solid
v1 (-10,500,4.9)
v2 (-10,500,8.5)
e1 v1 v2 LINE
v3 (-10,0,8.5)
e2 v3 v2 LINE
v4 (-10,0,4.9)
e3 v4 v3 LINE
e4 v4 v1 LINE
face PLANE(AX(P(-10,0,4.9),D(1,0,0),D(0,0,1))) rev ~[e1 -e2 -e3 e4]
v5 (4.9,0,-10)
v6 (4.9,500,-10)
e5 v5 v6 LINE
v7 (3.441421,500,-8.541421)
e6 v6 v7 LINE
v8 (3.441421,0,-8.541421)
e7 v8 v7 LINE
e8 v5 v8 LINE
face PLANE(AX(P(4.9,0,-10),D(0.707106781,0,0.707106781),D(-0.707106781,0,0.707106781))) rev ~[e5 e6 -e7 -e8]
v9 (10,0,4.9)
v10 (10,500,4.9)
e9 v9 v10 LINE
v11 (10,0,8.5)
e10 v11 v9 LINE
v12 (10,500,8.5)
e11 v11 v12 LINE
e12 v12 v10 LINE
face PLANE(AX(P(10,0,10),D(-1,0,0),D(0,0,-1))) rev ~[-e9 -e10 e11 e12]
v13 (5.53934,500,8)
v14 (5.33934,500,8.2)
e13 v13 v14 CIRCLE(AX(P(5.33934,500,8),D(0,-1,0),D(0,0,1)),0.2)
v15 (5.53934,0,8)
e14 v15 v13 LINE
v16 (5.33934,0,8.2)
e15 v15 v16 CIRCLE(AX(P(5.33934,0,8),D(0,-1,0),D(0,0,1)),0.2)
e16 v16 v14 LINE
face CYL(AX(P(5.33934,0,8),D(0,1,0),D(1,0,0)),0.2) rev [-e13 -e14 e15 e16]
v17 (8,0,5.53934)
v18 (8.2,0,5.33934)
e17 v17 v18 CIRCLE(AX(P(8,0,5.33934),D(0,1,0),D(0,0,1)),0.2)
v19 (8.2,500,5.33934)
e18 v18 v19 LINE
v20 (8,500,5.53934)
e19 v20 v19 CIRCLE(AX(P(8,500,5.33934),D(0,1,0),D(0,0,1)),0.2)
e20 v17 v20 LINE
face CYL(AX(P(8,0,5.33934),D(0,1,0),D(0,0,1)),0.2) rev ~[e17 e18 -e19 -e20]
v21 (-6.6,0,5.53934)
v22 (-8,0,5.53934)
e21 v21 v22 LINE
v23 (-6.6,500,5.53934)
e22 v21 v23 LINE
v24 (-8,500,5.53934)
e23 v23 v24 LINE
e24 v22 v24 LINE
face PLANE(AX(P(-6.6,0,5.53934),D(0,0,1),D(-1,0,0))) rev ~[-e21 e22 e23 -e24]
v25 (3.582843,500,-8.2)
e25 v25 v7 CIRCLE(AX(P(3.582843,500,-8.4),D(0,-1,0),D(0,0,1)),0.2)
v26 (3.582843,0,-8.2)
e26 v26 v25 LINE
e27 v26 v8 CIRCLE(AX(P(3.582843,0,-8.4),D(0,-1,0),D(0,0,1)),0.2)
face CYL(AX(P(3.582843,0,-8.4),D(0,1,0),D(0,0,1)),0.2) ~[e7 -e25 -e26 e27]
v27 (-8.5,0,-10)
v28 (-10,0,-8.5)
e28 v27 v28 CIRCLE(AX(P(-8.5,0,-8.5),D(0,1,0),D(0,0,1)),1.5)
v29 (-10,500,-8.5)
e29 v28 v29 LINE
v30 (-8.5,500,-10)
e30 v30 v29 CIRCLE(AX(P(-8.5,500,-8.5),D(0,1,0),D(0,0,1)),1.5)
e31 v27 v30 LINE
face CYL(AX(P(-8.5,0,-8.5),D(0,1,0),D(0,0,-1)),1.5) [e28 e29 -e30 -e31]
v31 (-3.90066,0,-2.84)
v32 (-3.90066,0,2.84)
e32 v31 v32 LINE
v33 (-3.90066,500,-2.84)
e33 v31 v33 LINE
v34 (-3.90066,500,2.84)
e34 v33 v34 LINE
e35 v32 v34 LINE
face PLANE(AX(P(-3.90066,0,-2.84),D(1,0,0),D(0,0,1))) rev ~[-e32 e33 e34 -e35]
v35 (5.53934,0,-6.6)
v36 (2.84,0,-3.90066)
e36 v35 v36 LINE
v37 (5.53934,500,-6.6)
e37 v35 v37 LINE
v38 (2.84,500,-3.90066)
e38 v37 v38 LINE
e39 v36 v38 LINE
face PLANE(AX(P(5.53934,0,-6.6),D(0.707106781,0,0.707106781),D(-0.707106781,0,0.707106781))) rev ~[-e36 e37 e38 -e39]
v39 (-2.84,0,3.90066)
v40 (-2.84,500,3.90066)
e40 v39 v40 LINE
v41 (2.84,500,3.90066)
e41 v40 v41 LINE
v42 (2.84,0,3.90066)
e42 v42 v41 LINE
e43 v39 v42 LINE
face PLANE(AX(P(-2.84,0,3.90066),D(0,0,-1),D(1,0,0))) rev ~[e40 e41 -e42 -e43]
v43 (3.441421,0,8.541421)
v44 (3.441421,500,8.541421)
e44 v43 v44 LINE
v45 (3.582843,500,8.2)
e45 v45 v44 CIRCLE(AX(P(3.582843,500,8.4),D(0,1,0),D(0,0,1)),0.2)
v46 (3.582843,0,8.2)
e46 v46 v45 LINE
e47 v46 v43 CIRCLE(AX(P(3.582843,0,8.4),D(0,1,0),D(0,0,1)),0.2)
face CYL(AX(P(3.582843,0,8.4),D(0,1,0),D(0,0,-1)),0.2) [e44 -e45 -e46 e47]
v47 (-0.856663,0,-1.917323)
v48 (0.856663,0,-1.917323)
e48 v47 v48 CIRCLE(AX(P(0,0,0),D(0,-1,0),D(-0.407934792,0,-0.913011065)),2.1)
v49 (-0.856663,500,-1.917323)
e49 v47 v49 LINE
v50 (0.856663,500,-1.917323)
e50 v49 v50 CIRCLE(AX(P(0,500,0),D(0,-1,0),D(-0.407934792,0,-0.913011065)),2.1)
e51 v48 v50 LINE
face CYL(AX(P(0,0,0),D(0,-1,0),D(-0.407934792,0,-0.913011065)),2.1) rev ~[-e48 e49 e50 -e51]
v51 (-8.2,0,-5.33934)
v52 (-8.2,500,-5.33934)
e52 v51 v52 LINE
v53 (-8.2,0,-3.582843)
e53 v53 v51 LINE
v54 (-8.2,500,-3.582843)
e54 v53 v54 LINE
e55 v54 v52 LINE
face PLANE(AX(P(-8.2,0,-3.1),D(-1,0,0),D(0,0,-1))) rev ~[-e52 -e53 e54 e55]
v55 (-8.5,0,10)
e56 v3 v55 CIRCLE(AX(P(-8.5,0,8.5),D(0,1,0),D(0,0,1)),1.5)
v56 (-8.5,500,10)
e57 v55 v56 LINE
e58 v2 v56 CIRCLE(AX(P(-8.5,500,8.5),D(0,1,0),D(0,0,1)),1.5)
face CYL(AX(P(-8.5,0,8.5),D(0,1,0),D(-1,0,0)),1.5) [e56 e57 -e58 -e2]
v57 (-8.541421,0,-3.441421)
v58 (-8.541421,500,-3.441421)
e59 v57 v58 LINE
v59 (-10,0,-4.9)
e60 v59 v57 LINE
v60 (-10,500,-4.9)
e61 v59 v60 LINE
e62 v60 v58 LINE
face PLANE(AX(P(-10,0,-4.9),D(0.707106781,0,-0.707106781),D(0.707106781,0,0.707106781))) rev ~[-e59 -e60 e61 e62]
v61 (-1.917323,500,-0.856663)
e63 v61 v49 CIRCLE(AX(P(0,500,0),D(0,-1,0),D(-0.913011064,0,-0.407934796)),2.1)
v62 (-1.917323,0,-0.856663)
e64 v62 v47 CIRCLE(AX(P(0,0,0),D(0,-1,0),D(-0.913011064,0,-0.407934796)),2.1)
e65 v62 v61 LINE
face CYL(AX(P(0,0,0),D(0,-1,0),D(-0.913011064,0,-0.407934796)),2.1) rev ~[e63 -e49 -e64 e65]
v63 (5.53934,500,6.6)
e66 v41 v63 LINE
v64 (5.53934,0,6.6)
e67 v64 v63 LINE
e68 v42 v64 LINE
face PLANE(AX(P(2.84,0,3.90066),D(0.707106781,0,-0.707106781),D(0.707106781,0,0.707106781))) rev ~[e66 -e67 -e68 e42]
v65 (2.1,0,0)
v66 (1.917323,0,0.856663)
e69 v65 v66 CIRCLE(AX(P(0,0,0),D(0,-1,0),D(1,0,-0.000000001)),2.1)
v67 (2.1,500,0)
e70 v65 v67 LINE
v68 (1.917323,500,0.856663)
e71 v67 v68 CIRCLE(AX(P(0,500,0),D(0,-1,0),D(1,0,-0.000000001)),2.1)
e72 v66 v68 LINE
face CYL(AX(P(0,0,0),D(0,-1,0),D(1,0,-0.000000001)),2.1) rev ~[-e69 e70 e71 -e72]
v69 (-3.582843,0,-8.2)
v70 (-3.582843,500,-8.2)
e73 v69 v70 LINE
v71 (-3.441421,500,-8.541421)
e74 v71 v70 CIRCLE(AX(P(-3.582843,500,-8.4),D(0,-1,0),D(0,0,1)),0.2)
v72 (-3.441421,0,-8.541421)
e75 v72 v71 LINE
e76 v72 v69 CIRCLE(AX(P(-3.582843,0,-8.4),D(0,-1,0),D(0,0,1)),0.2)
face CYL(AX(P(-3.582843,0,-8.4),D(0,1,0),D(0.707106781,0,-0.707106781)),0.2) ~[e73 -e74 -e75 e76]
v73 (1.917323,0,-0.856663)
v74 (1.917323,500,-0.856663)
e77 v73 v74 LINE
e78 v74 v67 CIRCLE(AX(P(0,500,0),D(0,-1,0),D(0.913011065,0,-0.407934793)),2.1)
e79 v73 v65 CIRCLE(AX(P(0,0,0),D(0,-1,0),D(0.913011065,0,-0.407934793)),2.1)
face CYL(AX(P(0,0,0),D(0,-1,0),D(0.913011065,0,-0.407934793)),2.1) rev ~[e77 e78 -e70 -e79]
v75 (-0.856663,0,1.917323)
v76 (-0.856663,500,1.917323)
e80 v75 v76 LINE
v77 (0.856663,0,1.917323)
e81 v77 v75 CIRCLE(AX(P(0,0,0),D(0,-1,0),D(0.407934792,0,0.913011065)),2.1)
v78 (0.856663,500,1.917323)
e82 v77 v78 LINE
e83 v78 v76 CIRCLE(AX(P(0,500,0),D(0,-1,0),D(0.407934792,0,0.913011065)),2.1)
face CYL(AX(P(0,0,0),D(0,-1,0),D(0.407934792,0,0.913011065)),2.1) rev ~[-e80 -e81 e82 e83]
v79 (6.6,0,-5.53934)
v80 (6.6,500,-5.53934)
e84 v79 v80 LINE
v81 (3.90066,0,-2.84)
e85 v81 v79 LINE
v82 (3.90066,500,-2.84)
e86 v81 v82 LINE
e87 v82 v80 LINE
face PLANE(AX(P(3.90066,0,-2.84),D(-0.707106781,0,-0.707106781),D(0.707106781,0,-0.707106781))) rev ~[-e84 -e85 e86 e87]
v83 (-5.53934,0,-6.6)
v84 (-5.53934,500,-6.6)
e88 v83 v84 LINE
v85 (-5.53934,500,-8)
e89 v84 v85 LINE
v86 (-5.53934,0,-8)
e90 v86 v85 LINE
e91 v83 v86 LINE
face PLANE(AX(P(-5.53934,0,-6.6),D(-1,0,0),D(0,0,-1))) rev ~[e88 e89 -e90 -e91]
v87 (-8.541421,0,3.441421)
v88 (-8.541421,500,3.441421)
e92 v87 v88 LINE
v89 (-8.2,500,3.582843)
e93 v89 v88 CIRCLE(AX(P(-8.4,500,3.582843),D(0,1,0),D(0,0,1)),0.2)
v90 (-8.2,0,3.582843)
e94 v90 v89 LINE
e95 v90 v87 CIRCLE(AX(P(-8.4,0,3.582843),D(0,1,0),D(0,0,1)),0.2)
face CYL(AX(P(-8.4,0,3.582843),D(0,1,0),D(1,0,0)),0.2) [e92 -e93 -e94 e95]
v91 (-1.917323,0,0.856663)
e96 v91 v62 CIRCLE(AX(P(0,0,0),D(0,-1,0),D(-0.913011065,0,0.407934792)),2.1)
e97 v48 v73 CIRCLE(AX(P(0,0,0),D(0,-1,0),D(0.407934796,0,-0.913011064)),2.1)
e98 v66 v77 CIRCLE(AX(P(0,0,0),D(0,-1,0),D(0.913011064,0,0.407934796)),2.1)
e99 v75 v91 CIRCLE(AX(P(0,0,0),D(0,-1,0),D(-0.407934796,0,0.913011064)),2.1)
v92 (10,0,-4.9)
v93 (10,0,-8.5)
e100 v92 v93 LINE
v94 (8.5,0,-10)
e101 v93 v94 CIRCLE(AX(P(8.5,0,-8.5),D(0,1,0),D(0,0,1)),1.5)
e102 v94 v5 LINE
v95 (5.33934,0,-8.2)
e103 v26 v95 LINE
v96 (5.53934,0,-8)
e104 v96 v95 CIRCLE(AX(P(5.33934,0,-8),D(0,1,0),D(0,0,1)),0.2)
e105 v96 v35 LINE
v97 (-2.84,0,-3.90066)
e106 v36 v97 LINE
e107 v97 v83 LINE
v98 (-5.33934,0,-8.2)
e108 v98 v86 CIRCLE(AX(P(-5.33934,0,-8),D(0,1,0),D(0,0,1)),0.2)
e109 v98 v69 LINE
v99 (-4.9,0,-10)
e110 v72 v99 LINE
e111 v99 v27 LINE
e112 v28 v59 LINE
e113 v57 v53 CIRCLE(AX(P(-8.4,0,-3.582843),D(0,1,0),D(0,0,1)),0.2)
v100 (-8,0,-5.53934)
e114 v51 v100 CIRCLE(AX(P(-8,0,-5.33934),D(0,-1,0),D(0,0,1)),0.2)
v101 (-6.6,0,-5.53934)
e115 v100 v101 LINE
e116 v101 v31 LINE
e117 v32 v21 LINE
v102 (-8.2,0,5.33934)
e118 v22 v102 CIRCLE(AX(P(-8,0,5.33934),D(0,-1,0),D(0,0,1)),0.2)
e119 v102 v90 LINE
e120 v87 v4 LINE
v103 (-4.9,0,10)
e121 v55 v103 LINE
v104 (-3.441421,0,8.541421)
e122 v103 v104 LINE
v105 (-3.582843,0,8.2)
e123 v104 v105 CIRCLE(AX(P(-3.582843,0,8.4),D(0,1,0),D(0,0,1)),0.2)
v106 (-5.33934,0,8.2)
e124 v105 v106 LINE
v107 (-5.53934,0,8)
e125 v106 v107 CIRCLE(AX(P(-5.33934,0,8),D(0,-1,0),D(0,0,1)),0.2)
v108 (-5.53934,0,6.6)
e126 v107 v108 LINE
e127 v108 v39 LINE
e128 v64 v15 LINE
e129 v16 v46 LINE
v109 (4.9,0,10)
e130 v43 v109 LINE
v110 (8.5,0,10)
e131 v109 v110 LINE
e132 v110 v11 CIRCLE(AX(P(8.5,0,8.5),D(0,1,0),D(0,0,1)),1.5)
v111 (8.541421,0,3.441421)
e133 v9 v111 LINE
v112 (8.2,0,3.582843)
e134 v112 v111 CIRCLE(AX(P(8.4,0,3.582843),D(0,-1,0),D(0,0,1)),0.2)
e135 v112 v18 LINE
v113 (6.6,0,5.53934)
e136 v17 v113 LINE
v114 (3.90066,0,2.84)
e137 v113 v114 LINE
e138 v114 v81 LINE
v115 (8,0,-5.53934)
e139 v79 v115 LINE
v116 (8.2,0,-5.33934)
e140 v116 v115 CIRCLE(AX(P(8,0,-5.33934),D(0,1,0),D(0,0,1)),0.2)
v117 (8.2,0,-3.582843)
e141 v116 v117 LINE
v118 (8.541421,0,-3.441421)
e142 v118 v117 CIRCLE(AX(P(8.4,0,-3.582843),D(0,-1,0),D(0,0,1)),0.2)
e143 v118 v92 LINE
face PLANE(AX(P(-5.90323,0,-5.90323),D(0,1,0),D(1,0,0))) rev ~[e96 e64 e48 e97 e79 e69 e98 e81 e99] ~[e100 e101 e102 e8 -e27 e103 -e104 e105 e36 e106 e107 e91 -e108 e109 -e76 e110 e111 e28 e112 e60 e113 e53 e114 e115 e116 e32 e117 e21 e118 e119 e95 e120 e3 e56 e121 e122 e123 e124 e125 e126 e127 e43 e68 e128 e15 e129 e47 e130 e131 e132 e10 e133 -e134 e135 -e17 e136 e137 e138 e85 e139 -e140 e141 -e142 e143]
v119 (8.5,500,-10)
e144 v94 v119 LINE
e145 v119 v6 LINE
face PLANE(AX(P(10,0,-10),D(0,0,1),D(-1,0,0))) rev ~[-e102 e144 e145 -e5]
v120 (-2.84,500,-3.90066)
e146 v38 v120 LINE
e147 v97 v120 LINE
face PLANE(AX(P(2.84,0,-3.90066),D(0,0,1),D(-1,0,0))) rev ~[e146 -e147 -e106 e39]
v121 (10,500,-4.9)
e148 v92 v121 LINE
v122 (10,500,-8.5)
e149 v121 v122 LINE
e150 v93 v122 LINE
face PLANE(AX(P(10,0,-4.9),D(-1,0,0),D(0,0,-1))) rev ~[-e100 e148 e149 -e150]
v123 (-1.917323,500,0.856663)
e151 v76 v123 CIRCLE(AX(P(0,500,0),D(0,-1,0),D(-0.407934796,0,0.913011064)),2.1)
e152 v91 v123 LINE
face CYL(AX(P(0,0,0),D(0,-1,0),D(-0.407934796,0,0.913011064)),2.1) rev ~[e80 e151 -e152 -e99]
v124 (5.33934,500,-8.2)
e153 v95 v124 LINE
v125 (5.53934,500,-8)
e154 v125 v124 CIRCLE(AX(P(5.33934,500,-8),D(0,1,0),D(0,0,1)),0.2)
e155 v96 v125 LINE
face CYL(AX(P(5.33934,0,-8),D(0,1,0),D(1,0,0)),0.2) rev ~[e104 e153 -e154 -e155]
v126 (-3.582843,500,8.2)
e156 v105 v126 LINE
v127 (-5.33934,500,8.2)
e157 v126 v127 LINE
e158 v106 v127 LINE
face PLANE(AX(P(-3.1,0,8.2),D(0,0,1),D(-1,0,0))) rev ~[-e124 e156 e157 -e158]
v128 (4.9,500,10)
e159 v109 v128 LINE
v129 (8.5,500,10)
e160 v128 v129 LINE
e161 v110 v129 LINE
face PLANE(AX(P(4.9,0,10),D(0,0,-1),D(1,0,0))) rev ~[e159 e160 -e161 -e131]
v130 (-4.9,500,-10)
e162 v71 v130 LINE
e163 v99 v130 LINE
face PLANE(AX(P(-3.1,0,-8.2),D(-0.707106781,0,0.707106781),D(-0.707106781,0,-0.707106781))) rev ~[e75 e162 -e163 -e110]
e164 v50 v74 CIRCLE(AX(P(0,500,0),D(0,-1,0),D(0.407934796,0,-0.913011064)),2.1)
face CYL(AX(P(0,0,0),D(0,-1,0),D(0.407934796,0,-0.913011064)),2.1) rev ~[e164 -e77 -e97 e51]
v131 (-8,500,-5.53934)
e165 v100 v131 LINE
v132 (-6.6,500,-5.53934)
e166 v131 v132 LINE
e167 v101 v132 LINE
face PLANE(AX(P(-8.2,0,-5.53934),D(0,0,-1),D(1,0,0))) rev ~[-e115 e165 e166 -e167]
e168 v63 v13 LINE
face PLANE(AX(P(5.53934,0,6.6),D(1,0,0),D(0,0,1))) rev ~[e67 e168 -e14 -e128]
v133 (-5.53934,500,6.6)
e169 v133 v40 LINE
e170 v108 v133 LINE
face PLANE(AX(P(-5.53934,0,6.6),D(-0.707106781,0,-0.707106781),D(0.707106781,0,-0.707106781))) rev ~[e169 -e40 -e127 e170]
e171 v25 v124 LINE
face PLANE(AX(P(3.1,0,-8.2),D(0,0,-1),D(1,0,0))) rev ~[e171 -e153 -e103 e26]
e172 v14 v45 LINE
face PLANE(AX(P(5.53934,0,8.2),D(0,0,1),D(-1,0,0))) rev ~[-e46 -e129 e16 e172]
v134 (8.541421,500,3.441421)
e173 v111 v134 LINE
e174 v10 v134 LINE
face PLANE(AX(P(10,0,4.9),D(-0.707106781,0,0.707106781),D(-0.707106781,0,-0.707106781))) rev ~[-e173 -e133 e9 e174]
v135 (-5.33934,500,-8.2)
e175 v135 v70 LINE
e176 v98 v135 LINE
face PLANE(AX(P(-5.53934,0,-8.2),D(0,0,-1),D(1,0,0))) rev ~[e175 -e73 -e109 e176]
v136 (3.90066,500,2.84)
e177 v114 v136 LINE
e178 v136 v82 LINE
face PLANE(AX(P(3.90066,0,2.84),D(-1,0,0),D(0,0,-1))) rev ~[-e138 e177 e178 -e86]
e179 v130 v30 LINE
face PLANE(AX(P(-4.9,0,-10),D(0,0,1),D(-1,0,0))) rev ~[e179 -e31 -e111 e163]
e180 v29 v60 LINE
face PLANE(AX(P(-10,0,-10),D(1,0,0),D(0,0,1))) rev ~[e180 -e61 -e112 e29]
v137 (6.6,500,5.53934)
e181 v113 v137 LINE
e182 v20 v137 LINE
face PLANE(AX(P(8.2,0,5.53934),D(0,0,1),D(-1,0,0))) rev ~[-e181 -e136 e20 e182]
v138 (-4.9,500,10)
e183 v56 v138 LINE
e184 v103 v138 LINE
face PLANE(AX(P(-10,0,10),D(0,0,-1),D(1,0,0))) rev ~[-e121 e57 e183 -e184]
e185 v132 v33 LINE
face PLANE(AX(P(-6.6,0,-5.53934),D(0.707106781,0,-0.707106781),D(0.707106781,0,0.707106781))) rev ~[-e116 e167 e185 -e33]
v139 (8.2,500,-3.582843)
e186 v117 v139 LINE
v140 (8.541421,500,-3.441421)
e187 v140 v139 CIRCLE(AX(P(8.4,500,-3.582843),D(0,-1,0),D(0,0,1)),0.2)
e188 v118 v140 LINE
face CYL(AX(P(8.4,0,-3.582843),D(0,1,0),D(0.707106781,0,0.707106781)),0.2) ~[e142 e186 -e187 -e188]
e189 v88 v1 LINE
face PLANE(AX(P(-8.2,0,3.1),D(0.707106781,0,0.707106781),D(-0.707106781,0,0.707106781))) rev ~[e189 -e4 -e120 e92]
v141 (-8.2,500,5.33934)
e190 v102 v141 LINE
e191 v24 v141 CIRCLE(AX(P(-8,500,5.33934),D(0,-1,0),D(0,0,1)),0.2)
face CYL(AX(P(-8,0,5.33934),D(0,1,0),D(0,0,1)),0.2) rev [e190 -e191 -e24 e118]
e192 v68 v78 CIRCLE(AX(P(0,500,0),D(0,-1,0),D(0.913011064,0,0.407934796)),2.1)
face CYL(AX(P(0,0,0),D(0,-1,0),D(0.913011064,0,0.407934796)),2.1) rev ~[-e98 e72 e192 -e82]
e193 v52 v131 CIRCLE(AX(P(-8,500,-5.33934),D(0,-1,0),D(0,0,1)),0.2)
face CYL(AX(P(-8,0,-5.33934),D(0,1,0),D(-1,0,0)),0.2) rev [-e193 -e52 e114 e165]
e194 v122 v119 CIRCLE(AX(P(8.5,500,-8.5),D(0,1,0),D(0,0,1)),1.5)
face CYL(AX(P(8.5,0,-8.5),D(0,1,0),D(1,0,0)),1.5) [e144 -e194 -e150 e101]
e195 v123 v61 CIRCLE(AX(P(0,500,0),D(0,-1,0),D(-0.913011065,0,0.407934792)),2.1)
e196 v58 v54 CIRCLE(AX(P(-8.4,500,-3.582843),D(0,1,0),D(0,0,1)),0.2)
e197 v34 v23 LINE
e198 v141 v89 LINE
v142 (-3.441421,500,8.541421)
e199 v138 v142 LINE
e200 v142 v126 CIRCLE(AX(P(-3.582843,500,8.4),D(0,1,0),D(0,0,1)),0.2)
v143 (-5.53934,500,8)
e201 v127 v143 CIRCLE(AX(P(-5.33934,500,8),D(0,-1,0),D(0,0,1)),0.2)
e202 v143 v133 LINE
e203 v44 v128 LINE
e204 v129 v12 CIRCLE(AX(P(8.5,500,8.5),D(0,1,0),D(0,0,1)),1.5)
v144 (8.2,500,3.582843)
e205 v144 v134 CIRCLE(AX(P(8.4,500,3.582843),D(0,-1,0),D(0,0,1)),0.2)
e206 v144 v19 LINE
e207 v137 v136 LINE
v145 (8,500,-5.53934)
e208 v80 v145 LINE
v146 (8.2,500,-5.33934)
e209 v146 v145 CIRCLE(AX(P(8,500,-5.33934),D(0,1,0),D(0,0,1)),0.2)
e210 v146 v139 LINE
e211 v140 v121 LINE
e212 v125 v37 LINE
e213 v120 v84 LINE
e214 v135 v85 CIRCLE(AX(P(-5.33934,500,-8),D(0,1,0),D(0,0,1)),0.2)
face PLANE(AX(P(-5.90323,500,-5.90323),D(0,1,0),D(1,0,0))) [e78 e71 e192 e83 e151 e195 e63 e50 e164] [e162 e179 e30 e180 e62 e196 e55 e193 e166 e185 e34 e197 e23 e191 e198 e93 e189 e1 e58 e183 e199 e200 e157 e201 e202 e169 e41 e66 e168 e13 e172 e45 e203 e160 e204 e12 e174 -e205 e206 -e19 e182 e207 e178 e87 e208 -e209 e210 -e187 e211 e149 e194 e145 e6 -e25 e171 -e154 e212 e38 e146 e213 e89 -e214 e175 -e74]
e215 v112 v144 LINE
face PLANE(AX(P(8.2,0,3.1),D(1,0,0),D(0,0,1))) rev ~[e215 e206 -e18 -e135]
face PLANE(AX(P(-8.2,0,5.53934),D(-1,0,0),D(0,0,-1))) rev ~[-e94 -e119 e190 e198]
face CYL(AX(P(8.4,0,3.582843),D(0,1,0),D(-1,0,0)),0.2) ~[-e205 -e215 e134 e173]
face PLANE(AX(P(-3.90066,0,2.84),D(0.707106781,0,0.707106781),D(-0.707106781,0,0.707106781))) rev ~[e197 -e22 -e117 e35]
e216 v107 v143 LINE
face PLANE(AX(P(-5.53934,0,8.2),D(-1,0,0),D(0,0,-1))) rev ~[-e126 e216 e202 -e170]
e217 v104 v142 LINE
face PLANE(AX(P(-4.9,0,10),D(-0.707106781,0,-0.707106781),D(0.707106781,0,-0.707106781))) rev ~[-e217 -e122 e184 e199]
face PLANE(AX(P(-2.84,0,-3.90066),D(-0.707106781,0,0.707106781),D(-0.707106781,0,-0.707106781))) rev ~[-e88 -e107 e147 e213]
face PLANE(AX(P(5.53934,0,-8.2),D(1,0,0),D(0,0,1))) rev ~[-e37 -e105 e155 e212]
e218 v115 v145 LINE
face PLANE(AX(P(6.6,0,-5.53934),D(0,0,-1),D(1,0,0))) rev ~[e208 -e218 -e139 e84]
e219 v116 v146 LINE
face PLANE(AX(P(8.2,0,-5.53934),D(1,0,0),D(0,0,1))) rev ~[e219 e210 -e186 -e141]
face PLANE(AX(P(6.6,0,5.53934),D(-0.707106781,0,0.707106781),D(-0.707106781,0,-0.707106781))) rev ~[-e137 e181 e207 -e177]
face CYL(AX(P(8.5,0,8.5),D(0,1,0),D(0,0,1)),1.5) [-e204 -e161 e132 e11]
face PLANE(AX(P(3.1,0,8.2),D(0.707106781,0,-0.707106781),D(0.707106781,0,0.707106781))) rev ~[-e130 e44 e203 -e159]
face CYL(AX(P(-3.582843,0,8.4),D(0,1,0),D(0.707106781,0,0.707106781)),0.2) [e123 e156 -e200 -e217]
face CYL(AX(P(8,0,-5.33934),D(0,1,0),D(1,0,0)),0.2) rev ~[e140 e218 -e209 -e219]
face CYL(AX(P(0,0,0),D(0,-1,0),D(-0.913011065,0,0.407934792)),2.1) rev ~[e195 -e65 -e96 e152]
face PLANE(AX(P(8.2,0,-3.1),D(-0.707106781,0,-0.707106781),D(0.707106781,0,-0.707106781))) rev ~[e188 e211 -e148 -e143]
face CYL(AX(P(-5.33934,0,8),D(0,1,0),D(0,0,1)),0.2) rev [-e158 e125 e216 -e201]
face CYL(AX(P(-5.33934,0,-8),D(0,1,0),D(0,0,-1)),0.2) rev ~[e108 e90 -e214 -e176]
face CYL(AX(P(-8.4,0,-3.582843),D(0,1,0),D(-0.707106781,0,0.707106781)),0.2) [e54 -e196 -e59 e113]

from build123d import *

# Parameters (mm, degrees)
SALIENTE_EXTRUIR1_DEPTH = 500
REDONDEO1_R             = 1.5
REDONDEO2_R             = 0.2


with BuildPart() as part:
    # Croquis1 → Saliente-Extruir1 (new body)
    with BuildSketch(Plane(origin=(0, 0, 0), x_dir=(1, 0, 0), z_dir=(0, 1, 0))):
        with BuildLine():
            Line((-4.9, 10), (-10, 10))
            Line((-10, 10), (-10, 4.9))
            Line((-10, 4.9), (-8.2, 3.1))
            Line((-8.2, 3.1), (-8.2, 5.539339828))
            Line((-8.2, 5.539339828), (-6.6, 5.539339828))
            Line((-6.6, 5.539339828), (-3.900660172, 2.84))
            Line((-3.900660172, 2.84), (-1.917323237, 0.856663065))
            ThreePointArc((-1.917323237, 0.856663065), (-1.48492424, 1.48492424), (-0.856663065, 1.917323237))
            Line((-0.856663065, 1.917323237), (-2.84, 3.900660172))
            Line((-2.84, 3.900660172), (-5.539339828, 6.6))
            Line((-5.539339828, 6.6), (-5.539339828, 8.2))
            Line((-5.539339828, 8.2), (-3.1, 8.2))
            Line((-3.1, 8.2), (-4.9, 10))
        make_face()
        with BuildLine():
            Line((-8.2, -3.1), (-10, -4.9))
            Line((-10, -4.9), (-10, -10))
            Line((-10, -10), (-4.9, -10))
            Line((-4.9, -10), (-3.1, -8.2))
            Line((-3.1, -8.2), (-5.539339828, -8.2))
            Line((-5.539339828, -8.2), (-5.539339828, -6.6))
            Line((-5.539339828, -6.6), (-2.84, -3.900660172))
            Line((-2.84, -3.900660172), (-0.856663065, -1.917323237))
            ThreePointArc((-0.856663065, -1.917323237), (-1.48492424, -1.48492424), (-1.917323237, -0.856663065))
            Line((-1.917323237, -0.856663065), (-3.900660172, -2.84))
            Line((-3.900660172, -2.84), (-6.6, -5.539339828))
            Line((-6.6, -5.539339828), (-8.2, -5.539339828))
            Line((-8.2, -5.539339828), (-8.2, -3.1))
        make_face()
        with BuildLine():
            Line((10, -10), (10, -4.9))
            Line((10, -4.9), (8.2, -3.1))
            Line((8.2, -3.1), (8.2, -5.539339828))
            Line((8.2, -5.539339828), (6.6, -5.539339828))
            Line((6.6, -5.539339828), (3.900660172, -2.84))
            Line((3.900660172, -2.84), (1.917323237, -0.856663065))
            ThreePointArc((1.917323237, -0.856663065), (1.48492424, -1.48492424), (0.856663065, -1.917323237))
            Line((0.856663065, -1.917323237), (2.84, -3.900660172))
            Line((2.84, -3.900660172), (5.539339828, -6.6))
            Line((5.539339828, -6.6), (5.539339828, -8.2))
            Line((5.539339828, -8.2), (3.1, -8.2))
            Line((3.1, -8.2), (4.9, -10))
            Line((4.9, -10), (10, -10))
        make_face()
        with BuildLine():
            Line((10, 10), (4.9, 10))
            Line((4.9, 10), (3.1, 8.2))
            Line((3.1, 8.2), (5.539339828, 8.2))
            Line((5.539339828, 8.2), (5.539339828, 6.6))
            Line((5.539339828, 6.6), (2.84, 3.900660172))
            Line((2.84, 3.900660172), (0.856663065, 1.917323237))
            ThreePointArc((0.856663065, 1.917323237), (1.48492424, 1.48492424), (1.917323237, 0.856663065))
            Line((1.917323237, 0.856663065), (3.900660172, 2.84))
            Line((3.900660172, 2.84), (6.6, 5.539339828))
            Line((6.6, 5.539339828), (8.2, 5.539339828))
            Line((8.2, 5.539339828), (8.2, 3.1))
            Line((8.2, 3.1), (10, 4.9))
            Line((10, 4.9), (10, 10))
        make_face()
        with BuildLine():
            Line((-1.917323237, 0.856663065), (-3.900660172, 2.84))
            Line((-3.900660172, 2.84), (-3.900660172, -2.84))
            Line((-3.900660172, -2.84), (-1.917323237, -0.856663065))
            ThreePointArc((-1.917323237, -0.856663065), (-2.1, 0), (-1.917323237, 0.856663065))
        make_face()
        with BuildLine():
            Line((-0.856663065, -1.917323237), (-2.84, -3.900660172))
            Line((-2.84, -3.900660172), (2.84, -3.900660172))
            Line((2.84, -3.900660172), (0.856663065, -1.917323237))
            ThreePointArc((0.856663065, -1.917323237), (0, -2.1), (-0.856663065, -1.917323237))
        make_face()
        with BuildLine():
            Line((3.900660172, -2.84), (3.900660172, 2.84))
            Line((3.900660172, 2.84), (1.917323237, 0.856663065))
            ThreePointArc((1.917323237, 0.856663065), (2.053823118, 0.437961872), (2.1, 0))
            ThreePointArc((2.1, 0), (2.053823118, -0.437961872), (1.917323237, -0.856663065))
            Line((1.917323237, -0.856663065), (3.900660172, -2.84))
        make_face()
        with BuildLine():
            Line((2.84, 3.900660172), (-2.84, 3.900660172))
            Line((-2.84, 3.900660172), (-0.856663065, 1.917323237))
            ThreePointArc((-0.856663065, 1.917323237), (0, 2.1), (0.856663065, 1.917323237))
            Line((0.856663065, 1.917323237), (2.84, 3.900660172))
        make_face()
    extrude(amount=SALIENTE_EXTRUIR1_DEPTH)

    # Redondeo1
    redondeo1_edges = [part.edges().sort_by_distance(p)[0] for p in [
        (-10, 250, 10),
        (-10, 250, -10),
        (10, 250, -10),
        (10, 250, 10),
    ]]
    fillet(redondeo1_edges, radius=REDONDEO1_R)

    # Redondeo2
    redondeo2_edges = [part.edges().sort_by_distance(p)[0] for p in [
        (-5.539339828, 250, 8.2),
        (-3.1, 250, 8.2),
        (-8.2, 250, 3.1),
        (-8.2, 250, 5.539339828),
        (-8.2, 250, -5.539339828),
        (-8.2, 250, -3.1),
        (-3.1, 250, -8.2),
        (-5.539339828, 250, -8.2),
        (5.539339828, 250, -8.2),
        (3.1, 250, -8.2),
        (8.2, 250, -3.1),
        (8.2, 250, -5.539339828),
        (8.2, 250, 5.539339828),
        (8.2, 250, 3.1),
        (3.1, 250, 8.2),
        (5.539339828, 250, 8.2),
    ]]
    fillet(redondeo2_edges, radius=REDONDEO2_R)


solid = part.part
